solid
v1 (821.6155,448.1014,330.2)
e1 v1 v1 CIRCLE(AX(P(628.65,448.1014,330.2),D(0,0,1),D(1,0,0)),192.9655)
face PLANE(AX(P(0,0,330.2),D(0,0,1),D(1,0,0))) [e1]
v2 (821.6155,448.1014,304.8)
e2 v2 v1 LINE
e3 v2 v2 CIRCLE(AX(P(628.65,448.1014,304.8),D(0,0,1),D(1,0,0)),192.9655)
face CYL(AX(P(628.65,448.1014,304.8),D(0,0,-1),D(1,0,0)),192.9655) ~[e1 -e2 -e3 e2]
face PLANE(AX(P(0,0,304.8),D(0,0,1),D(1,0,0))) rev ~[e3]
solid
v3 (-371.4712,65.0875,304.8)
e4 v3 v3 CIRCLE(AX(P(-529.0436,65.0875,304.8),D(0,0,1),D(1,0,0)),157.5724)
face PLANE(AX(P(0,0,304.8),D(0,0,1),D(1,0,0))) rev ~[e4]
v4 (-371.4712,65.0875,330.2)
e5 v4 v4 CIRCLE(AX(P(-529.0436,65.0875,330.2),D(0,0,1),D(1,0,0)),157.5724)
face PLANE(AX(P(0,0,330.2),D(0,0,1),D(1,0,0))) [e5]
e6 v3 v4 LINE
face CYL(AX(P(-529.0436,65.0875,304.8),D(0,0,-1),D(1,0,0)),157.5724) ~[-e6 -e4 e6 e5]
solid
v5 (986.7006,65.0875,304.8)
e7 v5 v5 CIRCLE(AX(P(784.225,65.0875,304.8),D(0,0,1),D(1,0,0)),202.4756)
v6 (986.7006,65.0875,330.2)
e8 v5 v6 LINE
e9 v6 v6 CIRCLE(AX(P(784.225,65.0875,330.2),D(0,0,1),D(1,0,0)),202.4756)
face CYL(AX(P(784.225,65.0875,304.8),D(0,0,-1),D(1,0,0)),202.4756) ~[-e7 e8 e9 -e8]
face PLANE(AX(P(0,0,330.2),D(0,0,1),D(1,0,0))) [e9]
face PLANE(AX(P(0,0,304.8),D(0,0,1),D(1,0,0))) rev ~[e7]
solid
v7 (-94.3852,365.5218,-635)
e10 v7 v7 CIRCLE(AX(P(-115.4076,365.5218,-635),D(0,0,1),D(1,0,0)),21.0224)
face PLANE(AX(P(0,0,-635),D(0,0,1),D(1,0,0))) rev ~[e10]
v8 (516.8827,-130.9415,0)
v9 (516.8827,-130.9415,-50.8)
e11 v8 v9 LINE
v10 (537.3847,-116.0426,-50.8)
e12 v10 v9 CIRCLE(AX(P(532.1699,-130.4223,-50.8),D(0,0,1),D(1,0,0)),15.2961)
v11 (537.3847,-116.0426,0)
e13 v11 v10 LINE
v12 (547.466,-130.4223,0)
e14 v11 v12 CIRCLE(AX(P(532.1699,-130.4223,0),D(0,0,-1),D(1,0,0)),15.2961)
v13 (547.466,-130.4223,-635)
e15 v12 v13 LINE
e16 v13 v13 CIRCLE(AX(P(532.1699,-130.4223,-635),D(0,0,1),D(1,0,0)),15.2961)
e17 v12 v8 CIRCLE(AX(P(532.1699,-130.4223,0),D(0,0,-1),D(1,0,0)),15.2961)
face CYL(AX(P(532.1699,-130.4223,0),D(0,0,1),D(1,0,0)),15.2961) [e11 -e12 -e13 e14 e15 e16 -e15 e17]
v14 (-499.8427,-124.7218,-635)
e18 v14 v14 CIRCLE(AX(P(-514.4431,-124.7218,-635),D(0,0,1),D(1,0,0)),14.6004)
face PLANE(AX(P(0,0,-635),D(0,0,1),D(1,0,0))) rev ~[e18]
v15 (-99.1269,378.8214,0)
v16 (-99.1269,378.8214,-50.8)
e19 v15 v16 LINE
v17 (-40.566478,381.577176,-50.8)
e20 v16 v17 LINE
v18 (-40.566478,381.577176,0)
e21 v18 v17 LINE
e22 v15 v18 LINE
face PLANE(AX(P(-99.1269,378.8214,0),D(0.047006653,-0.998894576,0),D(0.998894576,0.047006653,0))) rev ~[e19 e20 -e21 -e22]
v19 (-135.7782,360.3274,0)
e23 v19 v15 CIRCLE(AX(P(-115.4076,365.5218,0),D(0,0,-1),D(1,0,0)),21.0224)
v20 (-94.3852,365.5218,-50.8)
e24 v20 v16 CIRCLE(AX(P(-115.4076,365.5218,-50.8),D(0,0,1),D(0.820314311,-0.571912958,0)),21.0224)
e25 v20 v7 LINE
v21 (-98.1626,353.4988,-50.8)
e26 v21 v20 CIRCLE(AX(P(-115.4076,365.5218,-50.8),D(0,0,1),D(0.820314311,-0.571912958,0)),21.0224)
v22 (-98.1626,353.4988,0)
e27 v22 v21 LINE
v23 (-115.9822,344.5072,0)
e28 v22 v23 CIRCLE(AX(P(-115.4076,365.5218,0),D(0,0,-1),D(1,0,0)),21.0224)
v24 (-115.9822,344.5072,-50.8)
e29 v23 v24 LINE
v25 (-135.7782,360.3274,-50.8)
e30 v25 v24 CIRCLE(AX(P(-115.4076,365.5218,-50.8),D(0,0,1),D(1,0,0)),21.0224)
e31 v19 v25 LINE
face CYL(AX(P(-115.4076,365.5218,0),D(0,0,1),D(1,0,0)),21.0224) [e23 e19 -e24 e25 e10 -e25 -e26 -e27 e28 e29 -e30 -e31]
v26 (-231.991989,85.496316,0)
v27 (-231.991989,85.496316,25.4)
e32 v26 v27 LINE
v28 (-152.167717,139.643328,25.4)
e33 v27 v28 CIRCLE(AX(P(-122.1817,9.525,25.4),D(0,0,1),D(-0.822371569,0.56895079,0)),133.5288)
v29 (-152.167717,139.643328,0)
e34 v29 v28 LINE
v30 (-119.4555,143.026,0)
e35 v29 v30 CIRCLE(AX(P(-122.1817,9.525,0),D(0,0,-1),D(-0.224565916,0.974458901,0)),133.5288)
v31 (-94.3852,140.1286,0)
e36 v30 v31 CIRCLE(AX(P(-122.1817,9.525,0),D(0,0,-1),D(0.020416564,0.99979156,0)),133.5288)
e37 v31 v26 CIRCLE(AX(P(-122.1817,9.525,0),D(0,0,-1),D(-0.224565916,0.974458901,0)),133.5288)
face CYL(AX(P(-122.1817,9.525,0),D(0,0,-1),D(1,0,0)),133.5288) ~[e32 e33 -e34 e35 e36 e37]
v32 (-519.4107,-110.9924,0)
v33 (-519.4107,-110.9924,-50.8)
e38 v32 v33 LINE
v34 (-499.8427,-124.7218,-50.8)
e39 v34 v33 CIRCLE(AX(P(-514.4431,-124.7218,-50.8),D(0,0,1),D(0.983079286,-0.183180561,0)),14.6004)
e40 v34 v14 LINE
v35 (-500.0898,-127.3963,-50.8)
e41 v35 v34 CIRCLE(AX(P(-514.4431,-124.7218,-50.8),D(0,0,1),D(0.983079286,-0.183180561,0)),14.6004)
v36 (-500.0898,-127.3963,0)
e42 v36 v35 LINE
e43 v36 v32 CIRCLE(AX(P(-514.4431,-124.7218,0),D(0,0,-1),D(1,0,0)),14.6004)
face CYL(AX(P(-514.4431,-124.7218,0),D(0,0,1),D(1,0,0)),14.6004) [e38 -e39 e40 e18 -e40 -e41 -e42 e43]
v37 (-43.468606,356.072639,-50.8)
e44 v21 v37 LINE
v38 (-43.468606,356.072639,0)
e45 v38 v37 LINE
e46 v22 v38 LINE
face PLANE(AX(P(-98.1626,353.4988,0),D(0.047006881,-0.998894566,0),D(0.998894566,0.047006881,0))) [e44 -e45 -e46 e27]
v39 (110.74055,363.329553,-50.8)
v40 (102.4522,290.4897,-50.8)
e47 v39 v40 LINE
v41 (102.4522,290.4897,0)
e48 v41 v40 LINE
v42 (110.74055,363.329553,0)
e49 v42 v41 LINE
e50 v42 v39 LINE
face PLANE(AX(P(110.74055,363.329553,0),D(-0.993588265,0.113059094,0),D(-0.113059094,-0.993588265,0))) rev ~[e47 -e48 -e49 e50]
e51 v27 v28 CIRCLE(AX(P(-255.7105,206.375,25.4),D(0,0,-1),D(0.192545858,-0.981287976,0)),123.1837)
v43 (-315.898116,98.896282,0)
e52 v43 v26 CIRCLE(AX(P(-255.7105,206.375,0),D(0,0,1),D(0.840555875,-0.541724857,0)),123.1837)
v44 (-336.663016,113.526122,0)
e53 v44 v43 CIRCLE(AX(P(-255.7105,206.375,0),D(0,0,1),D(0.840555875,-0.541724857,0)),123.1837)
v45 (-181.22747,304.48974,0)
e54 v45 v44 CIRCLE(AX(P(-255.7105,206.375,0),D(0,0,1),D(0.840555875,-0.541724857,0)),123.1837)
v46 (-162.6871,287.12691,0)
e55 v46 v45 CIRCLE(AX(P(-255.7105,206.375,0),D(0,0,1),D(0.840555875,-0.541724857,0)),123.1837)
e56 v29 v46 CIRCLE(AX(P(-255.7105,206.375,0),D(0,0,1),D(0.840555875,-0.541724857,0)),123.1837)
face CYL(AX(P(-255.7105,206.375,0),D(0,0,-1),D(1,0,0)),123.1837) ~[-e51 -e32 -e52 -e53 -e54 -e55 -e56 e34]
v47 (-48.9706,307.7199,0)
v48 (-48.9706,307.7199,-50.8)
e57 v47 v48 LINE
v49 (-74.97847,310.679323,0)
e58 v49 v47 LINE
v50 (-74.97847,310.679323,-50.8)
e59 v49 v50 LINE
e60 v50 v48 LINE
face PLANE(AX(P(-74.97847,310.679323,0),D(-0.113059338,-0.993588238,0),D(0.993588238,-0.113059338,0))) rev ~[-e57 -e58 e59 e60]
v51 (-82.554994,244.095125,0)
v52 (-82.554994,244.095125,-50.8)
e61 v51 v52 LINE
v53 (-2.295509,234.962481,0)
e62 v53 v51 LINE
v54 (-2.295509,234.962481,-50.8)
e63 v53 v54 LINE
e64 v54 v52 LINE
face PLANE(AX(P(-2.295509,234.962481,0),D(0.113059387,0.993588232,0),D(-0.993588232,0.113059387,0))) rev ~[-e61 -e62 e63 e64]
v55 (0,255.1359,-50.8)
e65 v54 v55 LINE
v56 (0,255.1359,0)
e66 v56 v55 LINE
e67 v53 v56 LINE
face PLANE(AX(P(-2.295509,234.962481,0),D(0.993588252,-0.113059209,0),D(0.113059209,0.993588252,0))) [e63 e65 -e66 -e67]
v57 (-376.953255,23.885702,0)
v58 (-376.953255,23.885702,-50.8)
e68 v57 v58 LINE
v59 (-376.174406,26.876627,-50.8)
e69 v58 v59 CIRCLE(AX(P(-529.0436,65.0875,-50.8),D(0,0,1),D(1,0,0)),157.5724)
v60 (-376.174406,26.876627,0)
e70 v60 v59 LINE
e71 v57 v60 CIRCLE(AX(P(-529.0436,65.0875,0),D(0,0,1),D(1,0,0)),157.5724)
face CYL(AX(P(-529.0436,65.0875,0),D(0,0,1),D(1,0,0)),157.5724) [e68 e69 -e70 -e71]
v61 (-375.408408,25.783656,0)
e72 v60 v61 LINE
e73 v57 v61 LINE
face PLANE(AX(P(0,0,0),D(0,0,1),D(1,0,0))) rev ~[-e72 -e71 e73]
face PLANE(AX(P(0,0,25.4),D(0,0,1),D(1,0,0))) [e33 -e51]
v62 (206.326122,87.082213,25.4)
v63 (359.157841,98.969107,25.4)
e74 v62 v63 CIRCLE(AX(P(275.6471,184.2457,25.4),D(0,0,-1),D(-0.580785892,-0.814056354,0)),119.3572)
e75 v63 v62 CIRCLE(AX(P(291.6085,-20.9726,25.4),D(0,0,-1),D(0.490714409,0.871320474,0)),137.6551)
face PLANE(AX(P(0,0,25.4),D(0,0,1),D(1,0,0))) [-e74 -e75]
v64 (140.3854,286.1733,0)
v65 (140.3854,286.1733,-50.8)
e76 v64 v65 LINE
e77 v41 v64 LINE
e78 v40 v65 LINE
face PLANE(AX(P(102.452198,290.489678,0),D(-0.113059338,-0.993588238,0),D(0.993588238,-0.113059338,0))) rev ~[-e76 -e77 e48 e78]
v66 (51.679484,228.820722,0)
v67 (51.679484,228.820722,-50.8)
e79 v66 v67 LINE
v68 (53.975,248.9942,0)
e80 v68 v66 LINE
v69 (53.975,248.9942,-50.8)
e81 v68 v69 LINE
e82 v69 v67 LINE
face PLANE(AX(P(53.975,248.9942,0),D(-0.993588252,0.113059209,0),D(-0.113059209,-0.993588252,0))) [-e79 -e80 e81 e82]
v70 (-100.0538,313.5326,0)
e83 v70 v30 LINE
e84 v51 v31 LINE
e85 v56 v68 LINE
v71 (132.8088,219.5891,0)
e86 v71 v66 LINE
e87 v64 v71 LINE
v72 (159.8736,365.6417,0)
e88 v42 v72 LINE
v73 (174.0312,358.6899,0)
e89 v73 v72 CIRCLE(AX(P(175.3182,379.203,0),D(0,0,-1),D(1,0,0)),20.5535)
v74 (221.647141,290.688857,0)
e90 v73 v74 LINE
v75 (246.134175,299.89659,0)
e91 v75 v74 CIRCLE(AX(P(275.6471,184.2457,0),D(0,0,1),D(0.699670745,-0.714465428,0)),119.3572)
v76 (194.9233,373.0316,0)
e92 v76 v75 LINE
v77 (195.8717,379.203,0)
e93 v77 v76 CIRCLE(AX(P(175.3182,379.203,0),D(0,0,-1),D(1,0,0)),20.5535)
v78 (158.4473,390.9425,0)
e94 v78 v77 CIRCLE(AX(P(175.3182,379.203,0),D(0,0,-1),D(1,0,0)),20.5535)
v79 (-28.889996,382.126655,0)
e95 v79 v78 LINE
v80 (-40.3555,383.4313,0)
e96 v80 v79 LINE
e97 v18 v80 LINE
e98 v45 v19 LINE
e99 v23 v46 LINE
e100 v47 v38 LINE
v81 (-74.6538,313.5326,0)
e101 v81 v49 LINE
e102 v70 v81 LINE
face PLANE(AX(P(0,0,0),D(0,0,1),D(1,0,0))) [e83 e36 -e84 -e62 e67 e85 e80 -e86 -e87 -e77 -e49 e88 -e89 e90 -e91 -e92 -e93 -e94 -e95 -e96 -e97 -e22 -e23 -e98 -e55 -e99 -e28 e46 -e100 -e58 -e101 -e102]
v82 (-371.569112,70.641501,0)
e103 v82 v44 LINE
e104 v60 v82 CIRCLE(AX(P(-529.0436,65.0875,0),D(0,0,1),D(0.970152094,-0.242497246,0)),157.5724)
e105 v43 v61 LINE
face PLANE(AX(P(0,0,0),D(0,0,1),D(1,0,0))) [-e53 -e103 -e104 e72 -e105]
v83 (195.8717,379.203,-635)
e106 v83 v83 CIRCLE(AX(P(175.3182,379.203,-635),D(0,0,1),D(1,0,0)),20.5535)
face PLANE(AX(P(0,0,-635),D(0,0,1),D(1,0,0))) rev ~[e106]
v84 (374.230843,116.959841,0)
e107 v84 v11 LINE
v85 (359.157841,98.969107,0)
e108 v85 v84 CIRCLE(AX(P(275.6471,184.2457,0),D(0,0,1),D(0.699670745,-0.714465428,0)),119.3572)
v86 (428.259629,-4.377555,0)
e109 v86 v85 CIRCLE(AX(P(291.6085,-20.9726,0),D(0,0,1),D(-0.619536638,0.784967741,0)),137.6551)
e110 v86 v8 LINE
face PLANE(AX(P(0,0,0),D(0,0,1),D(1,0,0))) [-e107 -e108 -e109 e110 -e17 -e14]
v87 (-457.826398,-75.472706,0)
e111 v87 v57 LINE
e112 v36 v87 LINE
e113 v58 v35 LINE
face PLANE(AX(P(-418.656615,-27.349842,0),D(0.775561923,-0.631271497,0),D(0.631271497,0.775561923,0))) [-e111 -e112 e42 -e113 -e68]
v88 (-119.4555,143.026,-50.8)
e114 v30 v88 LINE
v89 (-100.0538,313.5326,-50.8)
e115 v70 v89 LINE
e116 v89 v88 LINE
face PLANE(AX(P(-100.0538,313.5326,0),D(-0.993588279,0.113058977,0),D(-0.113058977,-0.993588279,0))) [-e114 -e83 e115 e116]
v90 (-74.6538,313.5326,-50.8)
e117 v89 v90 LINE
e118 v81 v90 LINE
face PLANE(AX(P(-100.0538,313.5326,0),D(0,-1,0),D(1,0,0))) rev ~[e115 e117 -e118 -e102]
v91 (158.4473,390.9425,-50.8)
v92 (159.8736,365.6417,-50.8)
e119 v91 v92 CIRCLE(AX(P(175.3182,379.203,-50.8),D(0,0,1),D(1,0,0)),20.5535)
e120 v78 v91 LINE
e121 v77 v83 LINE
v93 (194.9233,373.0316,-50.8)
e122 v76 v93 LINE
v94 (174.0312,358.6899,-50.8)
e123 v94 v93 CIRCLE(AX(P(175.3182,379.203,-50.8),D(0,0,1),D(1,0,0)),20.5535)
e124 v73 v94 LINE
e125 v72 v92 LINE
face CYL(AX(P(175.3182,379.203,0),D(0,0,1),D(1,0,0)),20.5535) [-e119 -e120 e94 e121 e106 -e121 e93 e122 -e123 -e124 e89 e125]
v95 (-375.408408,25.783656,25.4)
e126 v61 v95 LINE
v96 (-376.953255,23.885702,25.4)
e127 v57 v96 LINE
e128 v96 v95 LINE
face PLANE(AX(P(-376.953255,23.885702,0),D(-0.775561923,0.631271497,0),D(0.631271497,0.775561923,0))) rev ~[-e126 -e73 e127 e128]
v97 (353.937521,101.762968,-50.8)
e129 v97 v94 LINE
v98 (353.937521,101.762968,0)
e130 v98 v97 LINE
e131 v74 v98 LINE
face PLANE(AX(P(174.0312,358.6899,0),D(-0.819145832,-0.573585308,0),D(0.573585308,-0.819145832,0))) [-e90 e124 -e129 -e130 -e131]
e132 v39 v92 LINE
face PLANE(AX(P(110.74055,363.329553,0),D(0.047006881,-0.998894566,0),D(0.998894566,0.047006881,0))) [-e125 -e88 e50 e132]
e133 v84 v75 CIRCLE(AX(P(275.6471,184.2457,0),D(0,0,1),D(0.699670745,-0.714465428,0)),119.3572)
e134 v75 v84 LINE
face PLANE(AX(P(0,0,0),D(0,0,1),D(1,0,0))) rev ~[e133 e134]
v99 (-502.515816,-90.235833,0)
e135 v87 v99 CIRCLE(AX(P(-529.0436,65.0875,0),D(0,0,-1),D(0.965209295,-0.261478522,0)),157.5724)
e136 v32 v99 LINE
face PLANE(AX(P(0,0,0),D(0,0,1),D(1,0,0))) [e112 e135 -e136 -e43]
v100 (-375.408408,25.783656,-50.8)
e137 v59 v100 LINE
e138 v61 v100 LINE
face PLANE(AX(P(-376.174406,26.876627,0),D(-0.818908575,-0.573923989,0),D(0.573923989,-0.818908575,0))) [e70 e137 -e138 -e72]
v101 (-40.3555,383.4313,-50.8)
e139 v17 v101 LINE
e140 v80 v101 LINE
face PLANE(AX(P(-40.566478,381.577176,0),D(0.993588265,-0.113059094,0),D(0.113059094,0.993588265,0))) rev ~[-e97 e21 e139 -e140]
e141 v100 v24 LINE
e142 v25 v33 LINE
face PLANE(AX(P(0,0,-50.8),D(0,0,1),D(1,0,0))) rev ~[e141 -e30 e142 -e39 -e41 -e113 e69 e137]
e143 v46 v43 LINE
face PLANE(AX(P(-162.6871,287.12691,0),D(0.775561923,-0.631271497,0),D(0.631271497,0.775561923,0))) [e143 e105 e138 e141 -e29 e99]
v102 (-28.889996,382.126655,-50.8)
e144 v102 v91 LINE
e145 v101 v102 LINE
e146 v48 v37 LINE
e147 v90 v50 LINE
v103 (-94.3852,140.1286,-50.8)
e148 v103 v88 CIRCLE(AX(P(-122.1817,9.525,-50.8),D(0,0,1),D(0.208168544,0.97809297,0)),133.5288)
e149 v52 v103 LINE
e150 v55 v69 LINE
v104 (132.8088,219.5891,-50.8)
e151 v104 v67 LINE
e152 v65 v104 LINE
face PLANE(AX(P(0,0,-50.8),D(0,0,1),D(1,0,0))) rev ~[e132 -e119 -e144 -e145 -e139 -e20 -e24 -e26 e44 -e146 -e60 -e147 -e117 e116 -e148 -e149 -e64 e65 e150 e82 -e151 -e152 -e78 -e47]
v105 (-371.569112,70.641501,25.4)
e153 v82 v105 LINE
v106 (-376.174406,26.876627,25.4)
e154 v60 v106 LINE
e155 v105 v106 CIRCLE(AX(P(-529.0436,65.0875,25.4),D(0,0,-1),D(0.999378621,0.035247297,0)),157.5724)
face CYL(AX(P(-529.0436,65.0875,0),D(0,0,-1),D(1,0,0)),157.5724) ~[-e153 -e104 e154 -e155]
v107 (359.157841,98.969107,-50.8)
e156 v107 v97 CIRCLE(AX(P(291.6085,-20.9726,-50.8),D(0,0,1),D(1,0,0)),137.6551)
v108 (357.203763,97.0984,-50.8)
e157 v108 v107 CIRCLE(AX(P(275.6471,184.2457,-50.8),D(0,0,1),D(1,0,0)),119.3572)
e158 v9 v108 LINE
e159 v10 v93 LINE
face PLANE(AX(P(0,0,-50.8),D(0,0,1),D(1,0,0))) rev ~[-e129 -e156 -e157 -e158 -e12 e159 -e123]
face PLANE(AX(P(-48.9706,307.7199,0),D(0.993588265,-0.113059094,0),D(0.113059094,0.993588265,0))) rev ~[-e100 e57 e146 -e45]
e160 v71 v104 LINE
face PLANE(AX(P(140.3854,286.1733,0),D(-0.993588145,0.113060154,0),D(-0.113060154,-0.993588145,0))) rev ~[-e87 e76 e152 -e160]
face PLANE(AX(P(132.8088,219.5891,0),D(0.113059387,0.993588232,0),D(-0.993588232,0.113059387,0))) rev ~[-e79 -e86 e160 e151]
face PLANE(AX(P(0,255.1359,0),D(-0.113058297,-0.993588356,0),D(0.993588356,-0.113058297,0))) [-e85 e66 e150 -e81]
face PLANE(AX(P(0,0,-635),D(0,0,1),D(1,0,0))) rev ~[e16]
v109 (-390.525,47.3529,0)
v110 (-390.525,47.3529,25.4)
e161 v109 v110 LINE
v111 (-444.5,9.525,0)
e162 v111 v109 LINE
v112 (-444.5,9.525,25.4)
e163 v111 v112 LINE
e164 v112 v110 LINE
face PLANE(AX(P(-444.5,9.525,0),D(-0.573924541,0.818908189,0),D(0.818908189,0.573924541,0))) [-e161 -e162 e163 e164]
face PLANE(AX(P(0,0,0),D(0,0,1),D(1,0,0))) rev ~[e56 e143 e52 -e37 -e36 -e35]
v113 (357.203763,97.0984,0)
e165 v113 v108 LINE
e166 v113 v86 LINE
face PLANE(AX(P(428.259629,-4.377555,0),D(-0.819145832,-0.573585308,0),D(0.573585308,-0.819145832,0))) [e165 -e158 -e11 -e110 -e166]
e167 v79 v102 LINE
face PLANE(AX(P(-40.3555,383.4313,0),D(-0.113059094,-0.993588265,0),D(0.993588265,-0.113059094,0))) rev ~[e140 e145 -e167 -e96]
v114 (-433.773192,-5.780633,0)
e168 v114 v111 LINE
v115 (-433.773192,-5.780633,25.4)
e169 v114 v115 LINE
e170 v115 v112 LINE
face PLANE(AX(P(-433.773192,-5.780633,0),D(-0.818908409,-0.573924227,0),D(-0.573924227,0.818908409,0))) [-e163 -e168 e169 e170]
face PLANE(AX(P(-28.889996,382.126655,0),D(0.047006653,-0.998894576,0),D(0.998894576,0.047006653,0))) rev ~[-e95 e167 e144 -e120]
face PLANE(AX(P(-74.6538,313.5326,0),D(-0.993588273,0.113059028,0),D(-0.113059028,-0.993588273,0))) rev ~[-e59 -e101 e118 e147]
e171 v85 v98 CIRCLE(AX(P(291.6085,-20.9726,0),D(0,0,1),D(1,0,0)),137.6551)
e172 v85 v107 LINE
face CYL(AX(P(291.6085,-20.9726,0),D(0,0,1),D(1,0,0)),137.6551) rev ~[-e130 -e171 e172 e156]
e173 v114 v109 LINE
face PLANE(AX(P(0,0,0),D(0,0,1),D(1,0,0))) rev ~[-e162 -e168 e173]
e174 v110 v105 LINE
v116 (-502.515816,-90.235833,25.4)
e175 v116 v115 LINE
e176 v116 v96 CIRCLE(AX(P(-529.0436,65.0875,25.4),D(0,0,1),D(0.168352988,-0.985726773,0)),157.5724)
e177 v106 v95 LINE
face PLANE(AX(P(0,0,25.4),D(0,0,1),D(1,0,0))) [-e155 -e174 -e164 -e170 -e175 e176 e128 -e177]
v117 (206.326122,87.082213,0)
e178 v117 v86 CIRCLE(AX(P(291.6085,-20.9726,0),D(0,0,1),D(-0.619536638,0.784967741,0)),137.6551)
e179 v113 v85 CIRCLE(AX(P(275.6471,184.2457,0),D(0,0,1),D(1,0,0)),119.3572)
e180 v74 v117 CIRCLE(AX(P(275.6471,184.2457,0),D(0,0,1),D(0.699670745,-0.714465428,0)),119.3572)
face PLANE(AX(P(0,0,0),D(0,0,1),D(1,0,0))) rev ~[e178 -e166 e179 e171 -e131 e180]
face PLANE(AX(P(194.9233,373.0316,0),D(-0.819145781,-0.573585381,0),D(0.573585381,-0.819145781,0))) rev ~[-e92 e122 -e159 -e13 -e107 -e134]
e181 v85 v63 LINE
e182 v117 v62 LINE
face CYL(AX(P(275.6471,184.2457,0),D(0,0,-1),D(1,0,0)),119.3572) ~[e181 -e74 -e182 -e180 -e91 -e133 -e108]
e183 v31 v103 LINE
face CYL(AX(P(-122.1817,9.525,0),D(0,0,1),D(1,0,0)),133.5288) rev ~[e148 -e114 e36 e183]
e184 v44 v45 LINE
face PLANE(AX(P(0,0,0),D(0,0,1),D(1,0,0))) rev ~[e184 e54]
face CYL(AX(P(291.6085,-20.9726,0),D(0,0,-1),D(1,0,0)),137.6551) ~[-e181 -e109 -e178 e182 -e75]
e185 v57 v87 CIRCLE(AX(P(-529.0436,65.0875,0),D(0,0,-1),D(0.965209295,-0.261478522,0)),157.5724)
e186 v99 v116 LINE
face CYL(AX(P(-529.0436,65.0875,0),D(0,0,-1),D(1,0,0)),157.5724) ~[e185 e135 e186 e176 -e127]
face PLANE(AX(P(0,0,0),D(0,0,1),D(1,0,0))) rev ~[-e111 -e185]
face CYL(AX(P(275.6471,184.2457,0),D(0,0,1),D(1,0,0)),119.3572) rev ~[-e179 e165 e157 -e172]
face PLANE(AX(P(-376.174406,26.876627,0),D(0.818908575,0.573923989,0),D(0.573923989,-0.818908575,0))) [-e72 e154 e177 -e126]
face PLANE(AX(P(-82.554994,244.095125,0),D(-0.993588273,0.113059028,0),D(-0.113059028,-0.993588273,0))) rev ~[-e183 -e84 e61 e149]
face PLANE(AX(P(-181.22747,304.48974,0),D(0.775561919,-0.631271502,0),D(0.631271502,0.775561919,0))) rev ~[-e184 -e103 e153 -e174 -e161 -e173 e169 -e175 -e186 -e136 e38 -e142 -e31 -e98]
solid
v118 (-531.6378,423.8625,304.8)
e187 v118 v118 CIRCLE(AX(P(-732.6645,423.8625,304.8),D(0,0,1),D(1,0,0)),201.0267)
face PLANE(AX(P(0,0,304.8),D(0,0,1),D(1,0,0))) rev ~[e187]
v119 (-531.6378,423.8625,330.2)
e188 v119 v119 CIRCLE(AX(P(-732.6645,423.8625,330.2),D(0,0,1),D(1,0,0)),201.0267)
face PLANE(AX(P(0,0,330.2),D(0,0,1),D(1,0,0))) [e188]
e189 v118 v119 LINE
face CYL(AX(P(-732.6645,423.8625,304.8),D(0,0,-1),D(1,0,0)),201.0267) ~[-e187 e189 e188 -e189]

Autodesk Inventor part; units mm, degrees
ref_plane "YZ Plane" through (0, 0, 0) normal (1, 0, 0) x (0, 1, 0)
ref_plane "XZ Plane" through (0, 0, 0) normal (0, 1, 0) x (-1, 0, 0)
sketch "Sketch1" plane through (0, 0, 0) normal (0, 0, 1) x (1, 0, 0)
  line L0 (-40.3555, 383.4313) -> (111.0673, 366.2011)
  line L1 (111.0673, 366.2011) -> (102.4522, 290.4897)
  line L2 (102.4522, 290.4897) -> (-48.9706, 307.7199)
  line L3 (-48.9706, 307.7199) -> (-40.3555, 383.4313)
  line L4 (-87.7484, 312.1324) -> (140.3854, 286.1733)
  line L5 (140.3854, 286.1733) -> (132.8088, 219.5891)
  line L6 (132.8088, 219.5891) -> (-95.3249, 245.5482)
  line L7 (-95.3249, 245.5482) -> (-87.7484, 312.1324)
  circle A0 centre (175.3182, 379.203) radius 20.5535
  circle A1 centre (-115.4076, 365.5218) radius 21.0224
  circle A2 centre (532.1699, -130.4223) radius 15.2961
  circle A3 centre (-514.4431, -124.7218) radius 14.6004
  line L8 (-128.6785, 349.2176) -> (-505.2263, -113.3983) construction
  line L9 (-94.4085, 366.51) -> (154.7875, 378.2368) construction
  line L10 (187.1074, 362.3667) -> (523.3963, -117.8926) construction
  line L11 (-87.7484, 312.1324) -> (-107.085, 142.1977)
  circle A4 centre (-732.6645, 423.8625) radius 24.2389
  circle A5 centre (-732.6645, 423.8625) radius 201.0267
  circle A6 centre (628.65, 448.1014) radius 192.9655
  circle A7 centre (784.225, 65.0875) radius 202.4756
  circle A8 centre (-122.1817, 9.525) radius 133.5288
  circle A9 centre (-529.0436, 65.0875) radius 157.5724
  circle A10 centre (-255.7105, 206.375) radius 123.1837
  circle A11 centre (275.6471, 184.2457) radius 119.3572
  circle A12 centre (291.6085, -20.9726) radius 137.6551
  line L12 (-519.4107, -110.9924) -> (-135.7782, 360.3274)
  line L13 (-99.1269, 378.8214) -> (158.4473, 390.9425)
  line L14 (194.9233, 373.0316) -> (537.3847, -116.0426)
  line L15 (-500.0898, -127.3963) -> (-115.9822, 344.5072)
  line L16 (-98.1626, 353.4988) -> (159.8736, 365.6417)
  line L17 (174.0312, 358.6899) -> (516.8827, -130.9415)
  line L18 (-74.6538, 313.5326) -> (-94.3852, 140.1286)
  line L19 (-100.0538, 313.5326) -> (-119.4555, 143.026)
  line L20 (-100.0538, 313.5326) -> (-74.6538, 313.5326)
  line L21 (0, 255.1359) -> (53.975, 248.9942)
  line L22 (53.975, 248.9942) -> (36.2304, 93.0509)
  line L23 (36.2304, 93.0509) -> (-17.7446, 99.1926)
  line L24 (-17.7446, 99.1926) -> (0, 255.1359)
  line L25 (-444.5, 9.525) -> (-390.525, 47.3529)
  line L26 (-390.525, 47.3529) -> (-276.9226, -114.7417)
  line L27 (-276.9226, -114.7417) -> (-330.8976, -152.5695)
  line L28 (-330.8976, -152.5695) -> (-444.5, 9.525)
  point P0 (0, 0)
  point P1 (353.9374, 101.7631)
  point P2 (359.158, 98.9691)
  point P3 (357.2038, 97.0983)
  point P4 (-43.4686, 356.0727)
  point P5 (-74.9784, 310.6793)
  point P6 (-82.555, 244.0951)
  point P7 (-2.2955, 234.9625)
  point P8 (51.6795, 228.8208)
  point P9 (110.7406, 363.3296)
  point P10 (-28.89, 382.1267)
  point P11 (-40.5665, 381.5772)
  point P12 (-376.9531, 23.8858)
  point P13 (-376.1743, 26.8765)
  point P14 (-375.4084, 25.7836)
  point P15 (206.3261, 87.0822)
  point P16 (-231.992, 85.4963)
  point P17 (-152.1677, 139.6434)
  point P18 (-433.7732, -5.7806)
  point P19 (-502.5158, -90.2359)
  point P20 (-371.569, 70.6416)
  dimension "d0" = 152.4
  dimension "d1" = 76.2
  dimension "d2" = 12.5196
  dimension "d3" = 12.8203
  dimension "d4" = 12.8523
  dimension "d5" = 12.3848
extrude "Extrusion1" add sketch "Sketch1" against normal blind 635 contours A0 | A1 | A2 | A3
extrude "Extrusion2" add sketch "Sketch1" against normal blind 50.8 contours L0 L13 L3 | L13 A0 L16 L1 L0 | L0 L1 L16 L3 L13 | L3 L16 A1 L13 | L16 L1 L2 L3 | L2 L4 L5 L6 L22 L21 L24 L18 | A1 L15 A10 L12 | L14 A11 L17 A0 | L18 L6 L7 L4 | L4 L7 L11 A8 L19 L20 L18 | A10 L15 L12 | L14 A11 A12 L17 | L18 A8 L11 L6 | A10 L15 L26 A9 L12 | L14 A2 L17 A12 A11 | A9 L26 L12 | A12 L17 A11 | L12 L28 L15 A9 | A9 L15 A3 L12 | L26 A9 L15 L28 L12 picked at (403.6158, 34.733)
extrude "Extrusion3" add sketch "Sketch1" along normal blind 25.4 contours L12 A10 | A10 L15 L12 | L14 A11 A12 L17 | A11 L14 | L17 A12 A11 | A10 A8 L15 | A12 L17 A11 | A11 L17 A12 | A12 A11 L17 | A8 A10 | A9 L26 L12 | A12 L17 A11 | A10 A8 | L15 A9 L26 | L12 L28 L15 A9 | L26 A9 L15 L28 L12 | L12 L28 L25 | A9 L28 L15 | L15 L28 A9
ref_plane "Work Plane1" through (0, 0, 304.8) normal (0, 0, 1) x (1, 0, 0)
sketch "Sketch2" plane through (0, 0, 304.8) normal (0, 0, 1) x (1, 0, 0)
  circle A0 centre (-732.6645, 423.8625) radius 201.0267 projected
  circle A1 centre (628.65, 448.1014) radius 192.9655 projected
  circle A2 centre (784.225, 65.0875) radius 202.4756 projected
  circle A3 centre (-529.0436, 65.0875) radius 157.5724 projected
  point P0 (0, 0)
extrude "Extrusion4" add sketch "Sketch2" along normal blind 25.4
properties part number "Drums"
